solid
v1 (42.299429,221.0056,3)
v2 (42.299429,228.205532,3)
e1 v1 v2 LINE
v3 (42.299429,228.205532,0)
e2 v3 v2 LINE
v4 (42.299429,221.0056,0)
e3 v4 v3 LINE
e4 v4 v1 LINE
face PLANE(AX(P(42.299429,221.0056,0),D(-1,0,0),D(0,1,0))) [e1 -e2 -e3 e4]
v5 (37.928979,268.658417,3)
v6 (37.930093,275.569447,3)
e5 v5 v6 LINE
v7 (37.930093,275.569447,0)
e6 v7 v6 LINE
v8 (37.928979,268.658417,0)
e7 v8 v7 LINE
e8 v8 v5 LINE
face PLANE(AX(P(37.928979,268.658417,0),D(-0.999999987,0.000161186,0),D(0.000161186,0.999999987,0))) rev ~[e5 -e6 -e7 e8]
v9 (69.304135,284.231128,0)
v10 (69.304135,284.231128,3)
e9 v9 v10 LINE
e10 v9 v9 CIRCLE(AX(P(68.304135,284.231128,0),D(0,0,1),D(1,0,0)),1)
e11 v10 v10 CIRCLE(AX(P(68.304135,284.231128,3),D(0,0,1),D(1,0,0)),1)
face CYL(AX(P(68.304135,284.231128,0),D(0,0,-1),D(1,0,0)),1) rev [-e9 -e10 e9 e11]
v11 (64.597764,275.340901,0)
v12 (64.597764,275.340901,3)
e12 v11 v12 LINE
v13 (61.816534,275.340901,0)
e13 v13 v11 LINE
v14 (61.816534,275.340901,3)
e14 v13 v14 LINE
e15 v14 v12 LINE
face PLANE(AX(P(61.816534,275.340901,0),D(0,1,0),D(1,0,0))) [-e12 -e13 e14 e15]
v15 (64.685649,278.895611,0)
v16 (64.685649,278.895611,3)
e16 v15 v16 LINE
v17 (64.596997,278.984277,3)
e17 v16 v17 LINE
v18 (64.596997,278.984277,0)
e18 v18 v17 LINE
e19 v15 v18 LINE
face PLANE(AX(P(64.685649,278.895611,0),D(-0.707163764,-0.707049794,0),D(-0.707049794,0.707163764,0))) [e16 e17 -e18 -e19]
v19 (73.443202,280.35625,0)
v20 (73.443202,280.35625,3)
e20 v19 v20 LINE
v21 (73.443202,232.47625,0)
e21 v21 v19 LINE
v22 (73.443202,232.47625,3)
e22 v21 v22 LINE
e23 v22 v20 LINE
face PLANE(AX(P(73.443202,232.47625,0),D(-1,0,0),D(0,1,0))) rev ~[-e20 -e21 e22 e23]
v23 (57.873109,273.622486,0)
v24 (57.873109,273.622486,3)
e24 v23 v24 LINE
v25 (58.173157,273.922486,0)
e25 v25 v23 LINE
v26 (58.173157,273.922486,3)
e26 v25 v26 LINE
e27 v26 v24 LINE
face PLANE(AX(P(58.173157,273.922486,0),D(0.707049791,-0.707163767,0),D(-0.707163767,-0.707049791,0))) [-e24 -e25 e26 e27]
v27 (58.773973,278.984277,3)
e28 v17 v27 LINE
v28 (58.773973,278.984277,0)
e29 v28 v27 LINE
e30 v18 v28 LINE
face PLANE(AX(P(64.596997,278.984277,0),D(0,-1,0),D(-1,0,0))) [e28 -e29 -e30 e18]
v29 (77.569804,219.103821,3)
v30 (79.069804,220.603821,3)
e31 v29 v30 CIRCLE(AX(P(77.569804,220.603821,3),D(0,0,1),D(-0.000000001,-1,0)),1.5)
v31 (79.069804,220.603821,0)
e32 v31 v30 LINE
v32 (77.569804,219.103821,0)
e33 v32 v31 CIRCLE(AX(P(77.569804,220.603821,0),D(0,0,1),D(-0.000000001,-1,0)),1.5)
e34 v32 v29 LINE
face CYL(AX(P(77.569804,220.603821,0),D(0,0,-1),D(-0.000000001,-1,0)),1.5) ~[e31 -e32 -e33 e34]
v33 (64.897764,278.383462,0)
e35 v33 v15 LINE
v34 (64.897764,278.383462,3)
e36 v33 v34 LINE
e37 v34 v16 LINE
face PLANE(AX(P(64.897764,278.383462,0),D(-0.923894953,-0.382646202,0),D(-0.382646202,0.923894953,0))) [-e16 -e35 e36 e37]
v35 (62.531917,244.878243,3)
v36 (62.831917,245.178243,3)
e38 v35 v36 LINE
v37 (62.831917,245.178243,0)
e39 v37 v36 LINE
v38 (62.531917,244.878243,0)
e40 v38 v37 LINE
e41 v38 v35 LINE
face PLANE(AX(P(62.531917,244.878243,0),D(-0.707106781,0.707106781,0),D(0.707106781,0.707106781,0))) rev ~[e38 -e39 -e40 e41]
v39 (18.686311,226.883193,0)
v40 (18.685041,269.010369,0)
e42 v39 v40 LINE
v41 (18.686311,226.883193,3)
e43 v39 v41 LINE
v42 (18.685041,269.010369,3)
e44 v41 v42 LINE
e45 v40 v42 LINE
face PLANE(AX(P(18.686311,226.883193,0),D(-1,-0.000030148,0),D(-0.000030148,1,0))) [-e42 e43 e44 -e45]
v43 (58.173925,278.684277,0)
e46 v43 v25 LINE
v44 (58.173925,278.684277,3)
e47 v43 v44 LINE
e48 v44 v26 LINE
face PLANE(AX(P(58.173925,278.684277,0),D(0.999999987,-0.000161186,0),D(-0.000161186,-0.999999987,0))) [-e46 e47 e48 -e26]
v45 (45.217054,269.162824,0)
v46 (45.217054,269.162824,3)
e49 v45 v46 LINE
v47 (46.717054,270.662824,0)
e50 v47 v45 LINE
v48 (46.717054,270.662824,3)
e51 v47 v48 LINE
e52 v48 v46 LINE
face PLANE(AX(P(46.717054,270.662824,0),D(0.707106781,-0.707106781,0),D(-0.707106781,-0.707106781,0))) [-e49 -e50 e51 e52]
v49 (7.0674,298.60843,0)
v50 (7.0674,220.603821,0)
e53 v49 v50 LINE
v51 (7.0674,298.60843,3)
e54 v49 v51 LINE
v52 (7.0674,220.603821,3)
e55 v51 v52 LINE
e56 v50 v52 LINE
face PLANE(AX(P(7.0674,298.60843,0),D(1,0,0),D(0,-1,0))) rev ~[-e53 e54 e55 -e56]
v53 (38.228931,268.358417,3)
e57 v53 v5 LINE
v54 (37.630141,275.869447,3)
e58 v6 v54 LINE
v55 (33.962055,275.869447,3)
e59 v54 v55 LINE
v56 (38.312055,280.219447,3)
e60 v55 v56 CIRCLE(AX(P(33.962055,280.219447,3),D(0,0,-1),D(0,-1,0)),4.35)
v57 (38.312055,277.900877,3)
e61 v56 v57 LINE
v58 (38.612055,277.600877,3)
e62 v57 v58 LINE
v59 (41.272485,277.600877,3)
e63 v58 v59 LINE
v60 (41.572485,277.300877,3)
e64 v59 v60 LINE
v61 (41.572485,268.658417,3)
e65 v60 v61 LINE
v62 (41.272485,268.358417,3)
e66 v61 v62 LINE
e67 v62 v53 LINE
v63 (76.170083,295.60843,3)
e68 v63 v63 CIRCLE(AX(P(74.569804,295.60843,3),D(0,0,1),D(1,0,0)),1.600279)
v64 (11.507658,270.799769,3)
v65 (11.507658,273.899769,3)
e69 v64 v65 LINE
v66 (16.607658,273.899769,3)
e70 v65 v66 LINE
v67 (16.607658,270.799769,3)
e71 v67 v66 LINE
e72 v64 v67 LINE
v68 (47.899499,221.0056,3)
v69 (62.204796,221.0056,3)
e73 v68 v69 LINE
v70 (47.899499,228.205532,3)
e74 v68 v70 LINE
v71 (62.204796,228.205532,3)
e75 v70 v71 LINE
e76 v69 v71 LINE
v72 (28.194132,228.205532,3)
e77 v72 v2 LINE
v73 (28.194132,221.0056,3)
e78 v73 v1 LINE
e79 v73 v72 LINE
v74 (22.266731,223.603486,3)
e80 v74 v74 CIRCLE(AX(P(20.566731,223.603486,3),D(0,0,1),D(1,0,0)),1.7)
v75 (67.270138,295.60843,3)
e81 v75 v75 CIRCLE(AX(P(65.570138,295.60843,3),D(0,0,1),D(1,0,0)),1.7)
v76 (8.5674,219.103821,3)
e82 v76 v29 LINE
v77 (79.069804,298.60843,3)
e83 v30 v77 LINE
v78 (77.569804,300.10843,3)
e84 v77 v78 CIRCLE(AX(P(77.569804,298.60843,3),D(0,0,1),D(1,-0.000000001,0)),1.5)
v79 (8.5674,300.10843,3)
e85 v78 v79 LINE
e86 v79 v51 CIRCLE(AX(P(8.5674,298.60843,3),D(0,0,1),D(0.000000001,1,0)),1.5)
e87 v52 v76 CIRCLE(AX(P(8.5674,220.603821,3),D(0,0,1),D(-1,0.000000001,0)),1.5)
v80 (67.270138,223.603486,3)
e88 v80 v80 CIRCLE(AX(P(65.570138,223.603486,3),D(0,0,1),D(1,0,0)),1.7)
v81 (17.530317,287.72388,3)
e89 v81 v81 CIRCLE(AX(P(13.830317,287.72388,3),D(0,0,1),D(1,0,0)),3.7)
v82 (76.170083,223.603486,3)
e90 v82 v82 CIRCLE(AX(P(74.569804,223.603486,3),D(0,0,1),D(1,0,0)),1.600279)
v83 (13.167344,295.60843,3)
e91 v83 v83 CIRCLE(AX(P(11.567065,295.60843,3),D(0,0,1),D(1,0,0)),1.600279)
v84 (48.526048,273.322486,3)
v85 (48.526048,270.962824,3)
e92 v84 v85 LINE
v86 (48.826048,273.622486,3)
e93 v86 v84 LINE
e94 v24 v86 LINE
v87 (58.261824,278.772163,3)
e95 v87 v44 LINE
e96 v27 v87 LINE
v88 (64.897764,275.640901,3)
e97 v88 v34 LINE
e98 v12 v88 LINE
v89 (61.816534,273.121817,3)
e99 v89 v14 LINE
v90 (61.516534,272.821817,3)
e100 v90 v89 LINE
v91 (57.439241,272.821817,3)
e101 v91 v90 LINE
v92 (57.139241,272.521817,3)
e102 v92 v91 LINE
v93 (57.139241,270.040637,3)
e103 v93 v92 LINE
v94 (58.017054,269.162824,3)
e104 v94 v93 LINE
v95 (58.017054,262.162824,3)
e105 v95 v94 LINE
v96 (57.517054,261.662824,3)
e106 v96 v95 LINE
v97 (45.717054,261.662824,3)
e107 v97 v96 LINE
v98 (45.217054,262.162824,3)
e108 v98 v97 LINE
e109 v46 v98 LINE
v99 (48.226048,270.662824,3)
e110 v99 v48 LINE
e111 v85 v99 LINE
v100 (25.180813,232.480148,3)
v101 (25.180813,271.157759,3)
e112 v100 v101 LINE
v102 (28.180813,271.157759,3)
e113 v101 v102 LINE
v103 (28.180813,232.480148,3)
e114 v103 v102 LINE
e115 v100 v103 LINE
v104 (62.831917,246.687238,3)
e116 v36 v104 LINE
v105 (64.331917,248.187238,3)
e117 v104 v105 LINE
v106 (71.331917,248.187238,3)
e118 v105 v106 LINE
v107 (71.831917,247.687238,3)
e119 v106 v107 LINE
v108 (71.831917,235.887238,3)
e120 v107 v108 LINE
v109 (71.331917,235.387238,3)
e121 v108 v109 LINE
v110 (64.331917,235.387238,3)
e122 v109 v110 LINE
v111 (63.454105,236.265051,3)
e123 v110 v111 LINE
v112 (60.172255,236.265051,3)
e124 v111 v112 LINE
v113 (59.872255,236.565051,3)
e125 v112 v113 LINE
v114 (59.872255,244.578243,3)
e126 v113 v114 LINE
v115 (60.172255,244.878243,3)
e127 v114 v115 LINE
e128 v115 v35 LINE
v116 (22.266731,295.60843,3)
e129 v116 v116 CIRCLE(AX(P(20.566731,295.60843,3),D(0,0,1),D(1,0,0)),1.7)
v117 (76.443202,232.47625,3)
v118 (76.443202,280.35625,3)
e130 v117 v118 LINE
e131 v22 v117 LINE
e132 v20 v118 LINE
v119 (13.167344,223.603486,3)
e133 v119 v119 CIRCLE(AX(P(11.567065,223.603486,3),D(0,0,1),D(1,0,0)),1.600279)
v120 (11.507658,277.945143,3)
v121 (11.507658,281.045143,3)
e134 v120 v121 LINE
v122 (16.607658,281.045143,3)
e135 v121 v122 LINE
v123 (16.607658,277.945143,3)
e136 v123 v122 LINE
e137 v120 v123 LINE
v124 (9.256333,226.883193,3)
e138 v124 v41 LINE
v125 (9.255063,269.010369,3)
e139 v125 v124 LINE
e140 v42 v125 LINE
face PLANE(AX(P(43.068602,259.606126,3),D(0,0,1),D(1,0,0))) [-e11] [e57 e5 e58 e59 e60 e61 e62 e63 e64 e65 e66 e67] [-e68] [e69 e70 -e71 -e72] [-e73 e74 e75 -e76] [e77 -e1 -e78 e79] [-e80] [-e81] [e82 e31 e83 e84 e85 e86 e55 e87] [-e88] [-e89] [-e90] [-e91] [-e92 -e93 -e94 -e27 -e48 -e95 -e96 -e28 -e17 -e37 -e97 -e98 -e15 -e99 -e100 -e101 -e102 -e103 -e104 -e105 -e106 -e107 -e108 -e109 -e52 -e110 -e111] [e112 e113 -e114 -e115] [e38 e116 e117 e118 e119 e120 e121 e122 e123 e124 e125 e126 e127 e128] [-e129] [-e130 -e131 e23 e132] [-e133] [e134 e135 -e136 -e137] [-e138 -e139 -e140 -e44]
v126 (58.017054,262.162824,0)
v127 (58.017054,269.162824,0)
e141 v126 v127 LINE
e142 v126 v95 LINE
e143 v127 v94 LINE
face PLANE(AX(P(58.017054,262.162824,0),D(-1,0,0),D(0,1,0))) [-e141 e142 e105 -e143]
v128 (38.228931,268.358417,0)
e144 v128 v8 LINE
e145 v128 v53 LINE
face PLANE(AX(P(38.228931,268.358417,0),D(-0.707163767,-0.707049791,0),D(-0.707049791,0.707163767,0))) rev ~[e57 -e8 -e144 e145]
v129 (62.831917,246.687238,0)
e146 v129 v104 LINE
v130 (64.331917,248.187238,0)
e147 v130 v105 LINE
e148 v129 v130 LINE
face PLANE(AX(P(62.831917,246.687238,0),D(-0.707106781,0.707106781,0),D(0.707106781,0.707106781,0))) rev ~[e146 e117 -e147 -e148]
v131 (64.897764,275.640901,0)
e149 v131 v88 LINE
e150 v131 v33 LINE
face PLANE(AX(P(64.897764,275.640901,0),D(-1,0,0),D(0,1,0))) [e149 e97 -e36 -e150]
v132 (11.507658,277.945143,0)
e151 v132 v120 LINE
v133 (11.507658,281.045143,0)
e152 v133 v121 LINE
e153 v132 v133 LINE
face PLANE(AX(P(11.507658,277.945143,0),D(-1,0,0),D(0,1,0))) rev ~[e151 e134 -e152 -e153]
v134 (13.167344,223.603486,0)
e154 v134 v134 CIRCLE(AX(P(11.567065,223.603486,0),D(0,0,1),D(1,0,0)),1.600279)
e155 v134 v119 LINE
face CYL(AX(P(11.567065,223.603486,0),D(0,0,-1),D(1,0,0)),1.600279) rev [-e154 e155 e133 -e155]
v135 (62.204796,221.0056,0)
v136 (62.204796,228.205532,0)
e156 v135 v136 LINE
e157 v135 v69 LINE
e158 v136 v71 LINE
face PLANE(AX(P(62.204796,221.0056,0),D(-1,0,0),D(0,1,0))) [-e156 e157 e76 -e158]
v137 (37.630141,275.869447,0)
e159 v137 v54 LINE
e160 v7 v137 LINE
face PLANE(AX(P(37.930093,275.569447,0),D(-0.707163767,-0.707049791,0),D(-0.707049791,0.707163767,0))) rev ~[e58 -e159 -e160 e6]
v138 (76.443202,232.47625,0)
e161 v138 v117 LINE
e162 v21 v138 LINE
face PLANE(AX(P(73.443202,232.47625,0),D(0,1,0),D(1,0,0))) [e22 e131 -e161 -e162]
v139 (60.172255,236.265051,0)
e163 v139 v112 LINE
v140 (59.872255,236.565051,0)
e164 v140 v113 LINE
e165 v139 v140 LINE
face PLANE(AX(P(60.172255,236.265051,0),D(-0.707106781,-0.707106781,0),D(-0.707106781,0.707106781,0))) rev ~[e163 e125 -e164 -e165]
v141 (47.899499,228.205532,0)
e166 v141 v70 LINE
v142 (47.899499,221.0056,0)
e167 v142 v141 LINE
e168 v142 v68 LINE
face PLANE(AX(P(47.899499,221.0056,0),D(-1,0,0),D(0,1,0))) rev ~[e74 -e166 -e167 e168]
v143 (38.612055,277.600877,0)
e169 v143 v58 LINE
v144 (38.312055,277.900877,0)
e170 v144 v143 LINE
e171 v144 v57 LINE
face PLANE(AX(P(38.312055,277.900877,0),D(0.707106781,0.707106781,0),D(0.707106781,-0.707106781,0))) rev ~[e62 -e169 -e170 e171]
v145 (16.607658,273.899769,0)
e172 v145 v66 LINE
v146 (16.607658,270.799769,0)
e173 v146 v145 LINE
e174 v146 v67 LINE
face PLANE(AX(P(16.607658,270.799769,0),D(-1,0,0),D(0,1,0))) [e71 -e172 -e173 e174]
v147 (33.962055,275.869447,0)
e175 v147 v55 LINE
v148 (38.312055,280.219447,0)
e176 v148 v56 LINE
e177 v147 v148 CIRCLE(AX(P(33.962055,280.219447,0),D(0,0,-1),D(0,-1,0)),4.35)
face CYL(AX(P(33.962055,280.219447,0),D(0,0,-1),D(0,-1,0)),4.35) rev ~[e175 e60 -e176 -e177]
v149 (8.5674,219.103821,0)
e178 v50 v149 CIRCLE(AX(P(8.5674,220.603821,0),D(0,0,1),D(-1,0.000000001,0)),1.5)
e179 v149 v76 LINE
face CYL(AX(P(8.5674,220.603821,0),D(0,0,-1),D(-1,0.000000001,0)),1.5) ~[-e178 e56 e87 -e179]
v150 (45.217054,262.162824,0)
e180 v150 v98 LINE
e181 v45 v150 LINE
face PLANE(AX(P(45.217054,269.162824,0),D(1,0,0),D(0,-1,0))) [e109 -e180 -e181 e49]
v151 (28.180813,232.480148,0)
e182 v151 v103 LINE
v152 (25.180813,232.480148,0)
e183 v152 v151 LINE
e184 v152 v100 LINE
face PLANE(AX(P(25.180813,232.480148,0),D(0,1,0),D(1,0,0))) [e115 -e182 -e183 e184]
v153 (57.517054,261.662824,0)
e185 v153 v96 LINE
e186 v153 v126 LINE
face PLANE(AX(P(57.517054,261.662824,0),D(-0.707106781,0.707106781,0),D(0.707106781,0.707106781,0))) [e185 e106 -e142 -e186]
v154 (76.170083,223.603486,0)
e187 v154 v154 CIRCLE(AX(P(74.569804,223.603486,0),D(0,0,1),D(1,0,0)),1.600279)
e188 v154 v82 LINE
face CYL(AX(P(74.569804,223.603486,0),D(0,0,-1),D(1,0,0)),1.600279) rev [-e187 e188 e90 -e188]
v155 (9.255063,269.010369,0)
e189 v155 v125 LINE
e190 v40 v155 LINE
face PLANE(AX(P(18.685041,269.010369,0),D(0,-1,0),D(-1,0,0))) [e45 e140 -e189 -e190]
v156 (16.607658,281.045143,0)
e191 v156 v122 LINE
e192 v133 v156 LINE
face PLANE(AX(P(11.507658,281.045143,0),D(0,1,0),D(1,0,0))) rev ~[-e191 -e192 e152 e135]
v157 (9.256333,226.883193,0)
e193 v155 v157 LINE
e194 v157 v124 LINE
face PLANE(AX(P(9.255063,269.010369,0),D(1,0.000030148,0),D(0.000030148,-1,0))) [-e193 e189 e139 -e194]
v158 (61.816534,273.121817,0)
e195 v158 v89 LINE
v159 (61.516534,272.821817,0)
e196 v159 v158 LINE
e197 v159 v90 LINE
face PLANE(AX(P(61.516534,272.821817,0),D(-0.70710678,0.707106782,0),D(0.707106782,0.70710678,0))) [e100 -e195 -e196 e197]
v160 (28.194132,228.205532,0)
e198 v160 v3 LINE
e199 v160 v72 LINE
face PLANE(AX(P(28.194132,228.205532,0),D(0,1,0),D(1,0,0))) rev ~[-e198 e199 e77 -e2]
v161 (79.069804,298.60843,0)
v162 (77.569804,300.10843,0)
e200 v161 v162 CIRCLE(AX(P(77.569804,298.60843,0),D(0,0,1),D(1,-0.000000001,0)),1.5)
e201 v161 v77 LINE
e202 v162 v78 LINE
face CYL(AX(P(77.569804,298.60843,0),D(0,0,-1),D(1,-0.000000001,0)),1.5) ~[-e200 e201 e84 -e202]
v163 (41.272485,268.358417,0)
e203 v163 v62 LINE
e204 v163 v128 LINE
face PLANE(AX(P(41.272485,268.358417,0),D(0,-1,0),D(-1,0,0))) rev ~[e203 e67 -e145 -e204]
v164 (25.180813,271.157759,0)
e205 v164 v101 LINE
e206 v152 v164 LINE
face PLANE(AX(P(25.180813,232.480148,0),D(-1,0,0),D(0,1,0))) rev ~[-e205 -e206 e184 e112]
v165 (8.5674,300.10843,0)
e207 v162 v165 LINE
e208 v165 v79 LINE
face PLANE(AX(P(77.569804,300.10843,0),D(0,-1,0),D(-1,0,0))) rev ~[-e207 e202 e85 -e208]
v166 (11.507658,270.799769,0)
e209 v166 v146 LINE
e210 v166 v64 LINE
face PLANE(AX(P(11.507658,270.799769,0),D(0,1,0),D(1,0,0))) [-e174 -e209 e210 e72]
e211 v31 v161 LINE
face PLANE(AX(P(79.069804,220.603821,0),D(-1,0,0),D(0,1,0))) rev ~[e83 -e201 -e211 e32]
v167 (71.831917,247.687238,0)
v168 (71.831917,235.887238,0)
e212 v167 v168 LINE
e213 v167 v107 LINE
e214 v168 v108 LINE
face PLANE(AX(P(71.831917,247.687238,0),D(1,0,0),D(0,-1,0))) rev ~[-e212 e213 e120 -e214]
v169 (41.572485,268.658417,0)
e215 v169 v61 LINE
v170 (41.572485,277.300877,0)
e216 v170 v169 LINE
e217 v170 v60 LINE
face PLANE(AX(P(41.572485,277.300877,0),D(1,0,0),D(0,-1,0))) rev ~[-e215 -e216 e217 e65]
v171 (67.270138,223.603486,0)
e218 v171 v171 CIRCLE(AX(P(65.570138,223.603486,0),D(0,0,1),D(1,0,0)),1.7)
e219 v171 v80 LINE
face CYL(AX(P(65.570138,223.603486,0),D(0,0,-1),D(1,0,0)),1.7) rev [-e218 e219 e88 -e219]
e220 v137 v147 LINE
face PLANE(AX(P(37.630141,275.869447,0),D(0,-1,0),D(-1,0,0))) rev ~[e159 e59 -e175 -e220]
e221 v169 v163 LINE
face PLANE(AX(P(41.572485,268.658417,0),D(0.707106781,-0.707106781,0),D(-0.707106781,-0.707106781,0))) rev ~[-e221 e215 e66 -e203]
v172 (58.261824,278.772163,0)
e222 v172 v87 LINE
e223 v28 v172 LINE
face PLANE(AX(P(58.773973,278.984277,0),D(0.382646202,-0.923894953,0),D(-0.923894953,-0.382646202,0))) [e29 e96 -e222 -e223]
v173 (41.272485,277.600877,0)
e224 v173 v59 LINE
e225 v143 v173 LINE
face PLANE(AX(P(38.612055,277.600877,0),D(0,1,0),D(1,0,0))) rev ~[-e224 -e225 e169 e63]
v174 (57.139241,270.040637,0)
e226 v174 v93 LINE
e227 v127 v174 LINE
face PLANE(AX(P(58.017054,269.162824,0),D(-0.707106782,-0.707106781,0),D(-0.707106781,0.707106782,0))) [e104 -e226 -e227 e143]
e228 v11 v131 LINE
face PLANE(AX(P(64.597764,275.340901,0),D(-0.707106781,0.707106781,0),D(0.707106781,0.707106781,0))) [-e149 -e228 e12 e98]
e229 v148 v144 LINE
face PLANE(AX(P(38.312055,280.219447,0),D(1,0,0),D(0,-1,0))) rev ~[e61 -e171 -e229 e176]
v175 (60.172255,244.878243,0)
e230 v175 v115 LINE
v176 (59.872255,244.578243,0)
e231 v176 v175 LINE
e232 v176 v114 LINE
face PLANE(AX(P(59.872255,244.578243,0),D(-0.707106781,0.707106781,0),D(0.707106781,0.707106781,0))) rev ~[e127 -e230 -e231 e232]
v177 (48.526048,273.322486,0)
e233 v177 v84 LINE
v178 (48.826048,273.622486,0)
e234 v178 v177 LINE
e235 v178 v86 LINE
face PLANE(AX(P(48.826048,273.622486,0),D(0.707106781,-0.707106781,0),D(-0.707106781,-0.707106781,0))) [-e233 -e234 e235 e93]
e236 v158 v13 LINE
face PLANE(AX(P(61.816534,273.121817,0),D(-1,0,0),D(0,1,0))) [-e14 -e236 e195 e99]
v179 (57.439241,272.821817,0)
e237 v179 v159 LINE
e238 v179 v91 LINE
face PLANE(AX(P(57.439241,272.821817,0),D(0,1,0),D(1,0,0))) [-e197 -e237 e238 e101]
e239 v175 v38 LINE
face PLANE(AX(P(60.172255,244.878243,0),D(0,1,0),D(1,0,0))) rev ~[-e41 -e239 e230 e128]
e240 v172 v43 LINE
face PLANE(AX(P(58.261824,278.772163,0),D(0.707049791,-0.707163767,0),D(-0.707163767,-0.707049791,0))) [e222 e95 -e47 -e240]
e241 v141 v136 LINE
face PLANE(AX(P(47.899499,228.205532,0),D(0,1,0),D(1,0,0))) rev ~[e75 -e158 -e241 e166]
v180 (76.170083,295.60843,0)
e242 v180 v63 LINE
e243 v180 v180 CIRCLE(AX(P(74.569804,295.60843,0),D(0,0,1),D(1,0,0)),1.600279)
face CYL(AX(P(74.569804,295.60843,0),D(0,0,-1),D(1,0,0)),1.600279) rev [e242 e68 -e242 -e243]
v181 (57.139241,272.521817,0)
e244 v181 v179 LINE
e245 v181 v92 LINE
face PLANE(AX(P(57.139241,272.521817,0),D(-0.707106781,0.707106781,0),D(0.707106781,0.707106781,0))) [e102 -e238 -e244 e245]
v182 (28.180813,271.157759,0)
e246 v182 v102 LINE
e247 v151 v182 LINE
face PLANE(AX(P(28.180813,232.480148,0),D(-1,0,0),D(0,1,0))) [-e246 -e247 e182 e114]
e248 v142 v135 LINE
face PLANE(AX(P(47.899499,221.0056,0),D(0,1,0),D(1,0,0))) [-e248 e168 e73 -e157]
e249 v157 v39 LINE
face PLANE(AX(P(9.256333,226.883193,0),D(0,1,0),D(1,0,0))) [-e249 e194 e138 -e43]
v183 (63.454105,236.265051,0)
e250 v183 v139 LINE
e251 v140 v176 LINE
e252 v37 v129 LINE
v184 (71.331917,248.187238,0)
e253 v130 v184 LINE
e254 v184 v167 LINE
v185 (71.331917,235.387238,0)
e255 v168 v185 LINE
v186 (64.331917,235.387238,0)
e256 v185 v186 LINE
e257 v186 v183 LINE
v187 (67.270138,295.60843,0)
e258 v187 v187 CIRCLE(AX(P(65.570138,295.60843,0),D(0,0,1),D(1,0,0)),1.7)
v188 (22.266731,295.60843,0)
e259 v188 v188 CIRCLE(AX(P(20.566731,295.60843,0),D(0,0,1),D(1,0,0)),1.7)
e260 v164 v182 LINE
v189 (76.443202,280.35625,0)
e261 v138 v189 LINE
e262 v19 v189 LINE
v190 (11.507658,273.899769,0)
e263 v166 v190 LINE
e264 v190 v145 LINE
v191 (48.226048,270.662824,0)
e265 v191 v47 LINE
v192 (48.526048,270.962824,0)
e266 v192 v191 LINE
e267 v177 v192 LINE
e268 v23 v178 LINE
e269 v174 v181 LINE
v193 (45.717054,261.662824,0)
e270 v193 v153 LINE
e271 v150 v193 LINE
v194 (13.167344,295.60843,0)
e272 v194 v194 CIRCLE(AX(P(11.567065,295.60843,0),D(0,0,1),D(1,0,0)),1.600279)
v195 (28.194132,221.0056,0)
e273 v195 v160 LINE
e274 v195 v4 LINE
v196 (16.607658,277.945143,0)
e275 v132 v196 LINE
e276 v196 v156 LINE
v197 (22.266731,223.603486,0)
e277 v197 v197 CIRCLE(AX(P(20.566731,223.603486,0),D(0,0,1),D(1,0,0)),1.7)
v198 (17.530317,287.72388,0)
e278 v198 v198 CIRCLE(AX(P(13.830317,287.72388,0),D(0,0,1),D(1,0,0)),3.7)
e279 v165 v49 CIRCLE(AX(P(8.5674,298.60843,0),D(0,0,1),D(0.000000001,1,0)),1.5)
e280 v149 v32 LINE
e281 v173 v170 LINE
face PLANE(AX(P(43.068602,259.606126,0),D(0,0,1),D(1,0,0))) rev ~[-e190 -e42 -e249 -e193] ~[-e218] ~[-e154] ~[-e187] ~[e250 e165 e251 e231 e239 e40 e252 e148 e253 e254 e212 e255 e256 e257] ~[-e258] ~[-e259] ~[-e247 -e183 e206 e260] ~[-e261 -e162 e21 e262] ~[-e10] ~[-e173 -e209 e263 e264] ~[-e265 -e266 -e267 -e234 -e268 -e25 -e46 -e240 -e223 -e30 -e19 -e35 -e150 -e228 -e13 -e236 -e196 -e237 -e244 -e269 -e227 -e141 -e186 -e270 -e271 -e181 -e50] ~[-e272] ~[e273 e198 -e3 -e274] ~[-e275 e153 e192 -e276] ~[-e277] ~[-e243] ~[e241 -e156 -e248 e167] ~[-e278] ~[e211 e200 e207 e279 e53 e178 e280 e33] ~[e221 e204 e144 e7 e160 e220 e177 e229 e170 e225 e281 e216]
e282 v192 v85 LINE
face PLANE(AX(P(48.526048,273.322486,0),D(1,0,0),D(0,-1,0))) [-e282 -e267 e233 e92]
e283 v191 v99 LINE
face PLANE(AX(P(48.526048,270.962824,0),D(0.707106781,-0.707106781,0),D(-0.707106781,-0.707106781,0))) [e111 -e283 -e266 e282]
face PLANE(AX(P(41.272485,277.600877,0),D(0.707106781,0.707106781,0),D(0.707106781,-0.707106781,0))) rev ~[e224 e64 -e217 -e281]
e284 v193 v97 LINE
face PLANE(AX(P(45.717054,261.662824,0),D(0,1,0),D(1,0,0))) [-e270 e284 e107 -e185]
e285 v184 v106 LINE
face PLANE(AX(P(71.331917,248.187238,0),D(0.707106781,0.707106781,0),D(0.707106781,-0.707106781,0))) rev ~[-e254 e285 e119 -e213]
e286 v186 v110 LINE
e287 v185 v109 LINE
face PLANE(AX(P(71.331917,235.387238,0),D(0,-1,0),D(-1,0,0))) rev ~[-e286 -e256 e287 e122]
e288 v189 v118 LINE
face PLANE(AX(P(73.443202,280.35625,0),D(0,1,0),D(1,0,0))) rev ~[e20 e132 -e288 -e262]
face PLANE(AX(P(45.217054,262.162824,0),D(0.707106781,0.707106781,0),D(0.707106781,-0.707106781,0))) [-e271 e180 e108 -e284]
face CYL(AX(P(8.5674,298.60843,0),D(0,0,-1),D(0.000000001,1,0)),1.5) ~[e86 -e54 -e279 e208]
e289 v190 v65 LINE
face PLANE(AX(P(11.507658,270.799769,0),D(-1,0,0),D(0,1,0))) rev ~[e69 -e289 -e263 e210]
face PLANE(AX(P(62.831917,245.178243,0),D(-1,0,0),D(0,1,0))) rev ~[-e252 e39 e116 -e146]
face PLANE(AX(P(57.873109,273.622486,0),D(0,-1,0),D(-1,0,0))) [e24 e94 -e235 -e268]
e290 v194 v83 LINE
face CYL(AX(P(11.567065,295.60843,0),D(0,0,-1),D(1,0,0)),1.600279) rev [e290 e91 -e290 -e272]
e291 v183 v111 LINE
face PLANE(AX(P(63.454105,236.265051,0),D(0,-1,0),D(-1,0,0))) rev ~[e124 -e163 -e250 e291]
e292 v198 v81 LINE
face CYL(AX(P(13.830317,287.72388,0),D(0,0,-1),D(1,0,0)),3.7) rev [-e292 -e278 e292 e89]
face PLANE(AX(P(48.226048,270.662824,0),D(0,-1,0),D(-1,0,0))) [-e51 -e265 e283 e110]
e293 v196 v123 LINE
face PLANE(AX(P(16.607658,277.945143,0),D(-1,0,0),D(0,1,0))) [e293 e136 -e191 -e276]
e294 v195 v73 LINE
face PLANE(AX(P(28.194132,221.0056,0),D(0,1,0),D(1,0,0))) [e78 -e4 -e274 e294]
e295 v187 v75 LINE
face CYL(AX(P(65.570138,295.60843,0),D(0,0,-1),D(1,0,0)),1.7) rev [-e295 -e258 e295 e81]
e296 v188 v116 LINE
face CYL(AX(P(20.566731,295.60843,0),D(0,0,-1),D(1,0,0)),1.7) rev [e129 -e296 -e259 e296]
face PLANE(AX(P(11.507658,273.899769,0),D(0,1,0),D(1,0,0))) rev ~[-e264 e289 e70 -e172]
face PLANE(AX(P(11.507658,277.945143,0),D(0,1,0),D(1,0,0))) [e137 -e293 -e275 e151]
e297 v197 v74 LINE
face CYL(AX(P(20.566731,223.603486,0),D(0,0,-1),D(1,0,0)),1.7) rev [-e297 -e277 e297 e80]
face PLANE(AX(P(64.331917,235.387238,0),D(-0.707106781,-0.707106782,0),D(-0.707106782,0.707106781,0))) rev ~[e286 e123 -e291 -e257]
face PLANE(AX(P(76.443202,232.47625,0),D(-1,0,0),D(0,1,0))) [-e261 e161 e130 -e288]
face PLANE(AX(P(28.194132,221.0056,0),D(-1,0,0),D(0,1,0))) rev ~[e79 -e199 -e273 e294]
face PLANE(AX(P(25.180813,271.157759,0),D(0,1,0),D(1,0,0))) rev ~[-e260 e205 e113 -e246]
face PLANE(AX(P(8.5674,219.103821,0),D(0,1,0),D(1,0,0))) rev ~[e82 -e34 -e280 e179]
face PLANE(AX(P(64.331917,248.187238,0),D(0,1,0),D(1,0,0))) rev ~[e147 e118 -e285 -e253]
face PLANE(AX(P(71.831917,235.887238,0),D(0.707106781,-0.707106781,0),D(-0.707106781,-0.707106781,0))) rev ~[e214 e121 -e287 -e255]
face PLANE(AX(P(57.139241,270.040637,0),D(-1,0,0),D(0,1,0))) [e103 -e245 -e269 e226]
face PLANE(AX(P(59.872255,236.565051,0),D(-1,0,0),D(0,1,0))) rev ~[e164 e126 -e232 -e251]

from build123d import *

# Parameters (mm, degrees)
MODEL_R                 = 1
MODEL_R_2               = 3.7
MODEL_R_3               = 1.7
MODEL_R_4               = 1.600279216
MODEL_W                 = 3
MODEL_H                 = 47.88
MODEL_H_2               = 38.677610829
MODEL_W_2               = 14.305297
MODEL_H_3               = 7.199932059
MODEL_W_3               = 14.105297
MODEL_W_4               = 5.1
MODEL_H_4               = 3.1
SALIENTE_EXTRUIR1_DEPTH = 3


with BuildPart() as part:
    # Model → Saliente-Extruir1 (new body)
    with BuildSketch(Plane.XY):
        with BuildLine():
            Line((79.069803803, 220.603820632), (79.069803803, 298.60843049))
            ThreePointArc((79.069803803, 298.60843049), (78.630463975, 299.669090662), (77.569803803, 300.10843049))
            Line((77.569803803, 300.10843049), (8.567399569, 300.10843049))
            ThreePointArc((8.567399569, 300.10843049), (7.506739397, 299.669090662), (7.067399569, 298.60843049))
            Line((7.067399569, 298.60843049), (7.067399569, 220.603820632))
            ThreePointArc((7.067399569, 220.603820632), (7.506739397, 219.54316046), (8.567399569, 219.103820632))
            Line((8.567399569, 219.103820632), (77.569803803, 219.103820632))
            ThreePointArc((77.569803803, 219.103820632), (78.630463975, 219.54316046), (79.069803803, 220.603820632))
        make_face()
        with Locations((68.304134727, 284.23112787)):
            Circle(MODEL_R, mode=Mode.SUBTRACT)
        with Locations((13.830317101, 287.723880192)):
            Circle(MODEL_R_2, mode=Mode.SUBTRACT)
        with Locations((20.566730565, 223.60348613)):
            Circle(MODEL_R_3, mode=Mode.SUBTRACT)
        with Locations((65.570138305, 223.60348613)):
            Circle(MODEL_R_3, mode=Mode.SUBTRACT)
        with Locations((11.567065067, 223.60348613)):
            Circle(MODEL_R_4, mode=Mode.SUBTRACT)
        with Locations((74.569803803, 223.60348613)):
            Circle(MODEL_R_4, mode=Mode.SUBTRACT)
        with Locations((20.566730565, 295.60843049)):
            Circle(MODEL_R_3, mode=Mode.SUBTRACT)
        with Locations((65.570138305, 295.60843049)):
            Circle(MODEL_R_3, mode=Mode.SUBTRACT)
        with Locations((74.569803803, 295.60843049)):
            Circle(MODEL_R_4, mode=Mode.SUBTRACT)
        with Locations((11.567065067, 295.60843049)):
            Circle(MODEL_R_4, mode=Mode.SUBTRACT)
        with Locations((74.943202287, 256.416250186)):
            Rectangle(MODEL_W, MODEL_H, mode=Mode.SUBTRACT)
        with Locations((26.680813222, 251.818953656)):
            Rectangle(MODEL_W, MODEL_H_2, mode=Mode.SUBTRACT)
        Polygon((9.255063306, 269.010369093), (9.256333369, 226.883193232), (18.686310635, 226.883193232), (18.685040572, 269.010369093), align=None, mode=Mode.SUBTRACT)
        with BuildLine():
            Line((37.928978937, 268.658416829), (37.930092901, 275.569446794))
            Line((37.930092901, 275.569446794), (37.630141257, 275.86944679))
            Line((37.630141257, 275.86944679), (33.962054567, 275.86944679))
            ThreePointArc((33.962054567, 275.86944679), (30.886140069, 283.295361288), (38.312054567, 280.21944679))
            Line((38.312054567, 280.21944679), (38.312054567, 277.90087731))
            Line((38.312054567, 277.90087731), (38.612054567, 277.60087731))
            Line((38.612054567, 277.60087731), (41.272484784, 277.60087731))
            Line((41.272484784, 277.60087731), (41.572484784, 277.30087731))
            Line((41.572484784, 277.30087731), (41.572484784, 268.658416833))
            Line((41.572484784, 268.658416833), (41.272484784, 268.358416833))
            Line((41.272484784, 268.358416833), (38.228930581, 268.358416833))
            Line((38.228930581, 268.358416833), (37.928978937, 268.658416829))
        make_face(mode=Mode.SUBTRACT)
        with Locations((55.052147548, 224.605565735)):
            Rectangle(MODEL_W_2, MODEL_H_3, mode=Mode.SUBTRACT)
        with Locations((35.246780171, 224.605565735)):
            Rectangle(MODEL_W_3, MODEL_H_3, mode=Mode.SUBTRACT)
        with Locations((14.057658355, 272.349769149)):
            Rectangle(MODEL_W_4, MODEL_H_4, mode=Mode.SUBTRACT)
        with Locations((14.057658355, 279.495142856)):
            Rectangle(MODEL_W_4, MODEL_H_4, mode=Mode.SUBTRACT)
        Polygon((45.217053505, 262.162824271), (45.717053505, 261.662824271), (57.517053505, 261.662824271), (58.017053505, 262.162824271), (58.017053505, 269.162824271), (57.139240746, 270.040637031), (57.139240746, 272.521816974), (57.439240746, 272.821816974), (61.516534187, 272.821816974), (61.816534188, 273.121816974), (61.816534188, 275.340900661), (64.597764426, 275.340900661), (64.897764426, 275.640900661), (64.897764426, 278.38346156), (64.685649489, 278.89561069), (64.596997018, 278.984277451), (58.773973289, 278.984277451), (58.261824159, 278.772162514), (58.173924933, 278.684277455), (58.173157398, 273.922486249), (57.873109042, 273.622486253), (48.826048419, 273.622486253), (48.526048419, 273.322486253), (48.526048419, 270.962824271), (48.226048419, 270.662824271), (46.717053505, 270.662824271), (45.217053505, 269.162824271), align=None, mode=Mode.SUBTRACT)
        Polygon((63.45410467, 236.265050938), (60.172255448, 236.265050938), (59.872255448, 236.565050938), (59.872255448, 244.578243265), (60.172255448, 244.878243265), (62.53191743, 244.878243265), (62.83191743, 245.178243265), (62.83191743, 246.687238178), (64.33191743, 248.187238178), (71.33191743, 248.187238178), (71.83191743, 247.687238178), (71.83191743, 235.887238179), (71.33191743, 235.387238179), (64.33191743, 235.387238179), align=None, mode=Mode.SUBTRACT)
    extrude(amount=SALIENTE_EXTRUIR1_DEPTH)


solid = part.part
